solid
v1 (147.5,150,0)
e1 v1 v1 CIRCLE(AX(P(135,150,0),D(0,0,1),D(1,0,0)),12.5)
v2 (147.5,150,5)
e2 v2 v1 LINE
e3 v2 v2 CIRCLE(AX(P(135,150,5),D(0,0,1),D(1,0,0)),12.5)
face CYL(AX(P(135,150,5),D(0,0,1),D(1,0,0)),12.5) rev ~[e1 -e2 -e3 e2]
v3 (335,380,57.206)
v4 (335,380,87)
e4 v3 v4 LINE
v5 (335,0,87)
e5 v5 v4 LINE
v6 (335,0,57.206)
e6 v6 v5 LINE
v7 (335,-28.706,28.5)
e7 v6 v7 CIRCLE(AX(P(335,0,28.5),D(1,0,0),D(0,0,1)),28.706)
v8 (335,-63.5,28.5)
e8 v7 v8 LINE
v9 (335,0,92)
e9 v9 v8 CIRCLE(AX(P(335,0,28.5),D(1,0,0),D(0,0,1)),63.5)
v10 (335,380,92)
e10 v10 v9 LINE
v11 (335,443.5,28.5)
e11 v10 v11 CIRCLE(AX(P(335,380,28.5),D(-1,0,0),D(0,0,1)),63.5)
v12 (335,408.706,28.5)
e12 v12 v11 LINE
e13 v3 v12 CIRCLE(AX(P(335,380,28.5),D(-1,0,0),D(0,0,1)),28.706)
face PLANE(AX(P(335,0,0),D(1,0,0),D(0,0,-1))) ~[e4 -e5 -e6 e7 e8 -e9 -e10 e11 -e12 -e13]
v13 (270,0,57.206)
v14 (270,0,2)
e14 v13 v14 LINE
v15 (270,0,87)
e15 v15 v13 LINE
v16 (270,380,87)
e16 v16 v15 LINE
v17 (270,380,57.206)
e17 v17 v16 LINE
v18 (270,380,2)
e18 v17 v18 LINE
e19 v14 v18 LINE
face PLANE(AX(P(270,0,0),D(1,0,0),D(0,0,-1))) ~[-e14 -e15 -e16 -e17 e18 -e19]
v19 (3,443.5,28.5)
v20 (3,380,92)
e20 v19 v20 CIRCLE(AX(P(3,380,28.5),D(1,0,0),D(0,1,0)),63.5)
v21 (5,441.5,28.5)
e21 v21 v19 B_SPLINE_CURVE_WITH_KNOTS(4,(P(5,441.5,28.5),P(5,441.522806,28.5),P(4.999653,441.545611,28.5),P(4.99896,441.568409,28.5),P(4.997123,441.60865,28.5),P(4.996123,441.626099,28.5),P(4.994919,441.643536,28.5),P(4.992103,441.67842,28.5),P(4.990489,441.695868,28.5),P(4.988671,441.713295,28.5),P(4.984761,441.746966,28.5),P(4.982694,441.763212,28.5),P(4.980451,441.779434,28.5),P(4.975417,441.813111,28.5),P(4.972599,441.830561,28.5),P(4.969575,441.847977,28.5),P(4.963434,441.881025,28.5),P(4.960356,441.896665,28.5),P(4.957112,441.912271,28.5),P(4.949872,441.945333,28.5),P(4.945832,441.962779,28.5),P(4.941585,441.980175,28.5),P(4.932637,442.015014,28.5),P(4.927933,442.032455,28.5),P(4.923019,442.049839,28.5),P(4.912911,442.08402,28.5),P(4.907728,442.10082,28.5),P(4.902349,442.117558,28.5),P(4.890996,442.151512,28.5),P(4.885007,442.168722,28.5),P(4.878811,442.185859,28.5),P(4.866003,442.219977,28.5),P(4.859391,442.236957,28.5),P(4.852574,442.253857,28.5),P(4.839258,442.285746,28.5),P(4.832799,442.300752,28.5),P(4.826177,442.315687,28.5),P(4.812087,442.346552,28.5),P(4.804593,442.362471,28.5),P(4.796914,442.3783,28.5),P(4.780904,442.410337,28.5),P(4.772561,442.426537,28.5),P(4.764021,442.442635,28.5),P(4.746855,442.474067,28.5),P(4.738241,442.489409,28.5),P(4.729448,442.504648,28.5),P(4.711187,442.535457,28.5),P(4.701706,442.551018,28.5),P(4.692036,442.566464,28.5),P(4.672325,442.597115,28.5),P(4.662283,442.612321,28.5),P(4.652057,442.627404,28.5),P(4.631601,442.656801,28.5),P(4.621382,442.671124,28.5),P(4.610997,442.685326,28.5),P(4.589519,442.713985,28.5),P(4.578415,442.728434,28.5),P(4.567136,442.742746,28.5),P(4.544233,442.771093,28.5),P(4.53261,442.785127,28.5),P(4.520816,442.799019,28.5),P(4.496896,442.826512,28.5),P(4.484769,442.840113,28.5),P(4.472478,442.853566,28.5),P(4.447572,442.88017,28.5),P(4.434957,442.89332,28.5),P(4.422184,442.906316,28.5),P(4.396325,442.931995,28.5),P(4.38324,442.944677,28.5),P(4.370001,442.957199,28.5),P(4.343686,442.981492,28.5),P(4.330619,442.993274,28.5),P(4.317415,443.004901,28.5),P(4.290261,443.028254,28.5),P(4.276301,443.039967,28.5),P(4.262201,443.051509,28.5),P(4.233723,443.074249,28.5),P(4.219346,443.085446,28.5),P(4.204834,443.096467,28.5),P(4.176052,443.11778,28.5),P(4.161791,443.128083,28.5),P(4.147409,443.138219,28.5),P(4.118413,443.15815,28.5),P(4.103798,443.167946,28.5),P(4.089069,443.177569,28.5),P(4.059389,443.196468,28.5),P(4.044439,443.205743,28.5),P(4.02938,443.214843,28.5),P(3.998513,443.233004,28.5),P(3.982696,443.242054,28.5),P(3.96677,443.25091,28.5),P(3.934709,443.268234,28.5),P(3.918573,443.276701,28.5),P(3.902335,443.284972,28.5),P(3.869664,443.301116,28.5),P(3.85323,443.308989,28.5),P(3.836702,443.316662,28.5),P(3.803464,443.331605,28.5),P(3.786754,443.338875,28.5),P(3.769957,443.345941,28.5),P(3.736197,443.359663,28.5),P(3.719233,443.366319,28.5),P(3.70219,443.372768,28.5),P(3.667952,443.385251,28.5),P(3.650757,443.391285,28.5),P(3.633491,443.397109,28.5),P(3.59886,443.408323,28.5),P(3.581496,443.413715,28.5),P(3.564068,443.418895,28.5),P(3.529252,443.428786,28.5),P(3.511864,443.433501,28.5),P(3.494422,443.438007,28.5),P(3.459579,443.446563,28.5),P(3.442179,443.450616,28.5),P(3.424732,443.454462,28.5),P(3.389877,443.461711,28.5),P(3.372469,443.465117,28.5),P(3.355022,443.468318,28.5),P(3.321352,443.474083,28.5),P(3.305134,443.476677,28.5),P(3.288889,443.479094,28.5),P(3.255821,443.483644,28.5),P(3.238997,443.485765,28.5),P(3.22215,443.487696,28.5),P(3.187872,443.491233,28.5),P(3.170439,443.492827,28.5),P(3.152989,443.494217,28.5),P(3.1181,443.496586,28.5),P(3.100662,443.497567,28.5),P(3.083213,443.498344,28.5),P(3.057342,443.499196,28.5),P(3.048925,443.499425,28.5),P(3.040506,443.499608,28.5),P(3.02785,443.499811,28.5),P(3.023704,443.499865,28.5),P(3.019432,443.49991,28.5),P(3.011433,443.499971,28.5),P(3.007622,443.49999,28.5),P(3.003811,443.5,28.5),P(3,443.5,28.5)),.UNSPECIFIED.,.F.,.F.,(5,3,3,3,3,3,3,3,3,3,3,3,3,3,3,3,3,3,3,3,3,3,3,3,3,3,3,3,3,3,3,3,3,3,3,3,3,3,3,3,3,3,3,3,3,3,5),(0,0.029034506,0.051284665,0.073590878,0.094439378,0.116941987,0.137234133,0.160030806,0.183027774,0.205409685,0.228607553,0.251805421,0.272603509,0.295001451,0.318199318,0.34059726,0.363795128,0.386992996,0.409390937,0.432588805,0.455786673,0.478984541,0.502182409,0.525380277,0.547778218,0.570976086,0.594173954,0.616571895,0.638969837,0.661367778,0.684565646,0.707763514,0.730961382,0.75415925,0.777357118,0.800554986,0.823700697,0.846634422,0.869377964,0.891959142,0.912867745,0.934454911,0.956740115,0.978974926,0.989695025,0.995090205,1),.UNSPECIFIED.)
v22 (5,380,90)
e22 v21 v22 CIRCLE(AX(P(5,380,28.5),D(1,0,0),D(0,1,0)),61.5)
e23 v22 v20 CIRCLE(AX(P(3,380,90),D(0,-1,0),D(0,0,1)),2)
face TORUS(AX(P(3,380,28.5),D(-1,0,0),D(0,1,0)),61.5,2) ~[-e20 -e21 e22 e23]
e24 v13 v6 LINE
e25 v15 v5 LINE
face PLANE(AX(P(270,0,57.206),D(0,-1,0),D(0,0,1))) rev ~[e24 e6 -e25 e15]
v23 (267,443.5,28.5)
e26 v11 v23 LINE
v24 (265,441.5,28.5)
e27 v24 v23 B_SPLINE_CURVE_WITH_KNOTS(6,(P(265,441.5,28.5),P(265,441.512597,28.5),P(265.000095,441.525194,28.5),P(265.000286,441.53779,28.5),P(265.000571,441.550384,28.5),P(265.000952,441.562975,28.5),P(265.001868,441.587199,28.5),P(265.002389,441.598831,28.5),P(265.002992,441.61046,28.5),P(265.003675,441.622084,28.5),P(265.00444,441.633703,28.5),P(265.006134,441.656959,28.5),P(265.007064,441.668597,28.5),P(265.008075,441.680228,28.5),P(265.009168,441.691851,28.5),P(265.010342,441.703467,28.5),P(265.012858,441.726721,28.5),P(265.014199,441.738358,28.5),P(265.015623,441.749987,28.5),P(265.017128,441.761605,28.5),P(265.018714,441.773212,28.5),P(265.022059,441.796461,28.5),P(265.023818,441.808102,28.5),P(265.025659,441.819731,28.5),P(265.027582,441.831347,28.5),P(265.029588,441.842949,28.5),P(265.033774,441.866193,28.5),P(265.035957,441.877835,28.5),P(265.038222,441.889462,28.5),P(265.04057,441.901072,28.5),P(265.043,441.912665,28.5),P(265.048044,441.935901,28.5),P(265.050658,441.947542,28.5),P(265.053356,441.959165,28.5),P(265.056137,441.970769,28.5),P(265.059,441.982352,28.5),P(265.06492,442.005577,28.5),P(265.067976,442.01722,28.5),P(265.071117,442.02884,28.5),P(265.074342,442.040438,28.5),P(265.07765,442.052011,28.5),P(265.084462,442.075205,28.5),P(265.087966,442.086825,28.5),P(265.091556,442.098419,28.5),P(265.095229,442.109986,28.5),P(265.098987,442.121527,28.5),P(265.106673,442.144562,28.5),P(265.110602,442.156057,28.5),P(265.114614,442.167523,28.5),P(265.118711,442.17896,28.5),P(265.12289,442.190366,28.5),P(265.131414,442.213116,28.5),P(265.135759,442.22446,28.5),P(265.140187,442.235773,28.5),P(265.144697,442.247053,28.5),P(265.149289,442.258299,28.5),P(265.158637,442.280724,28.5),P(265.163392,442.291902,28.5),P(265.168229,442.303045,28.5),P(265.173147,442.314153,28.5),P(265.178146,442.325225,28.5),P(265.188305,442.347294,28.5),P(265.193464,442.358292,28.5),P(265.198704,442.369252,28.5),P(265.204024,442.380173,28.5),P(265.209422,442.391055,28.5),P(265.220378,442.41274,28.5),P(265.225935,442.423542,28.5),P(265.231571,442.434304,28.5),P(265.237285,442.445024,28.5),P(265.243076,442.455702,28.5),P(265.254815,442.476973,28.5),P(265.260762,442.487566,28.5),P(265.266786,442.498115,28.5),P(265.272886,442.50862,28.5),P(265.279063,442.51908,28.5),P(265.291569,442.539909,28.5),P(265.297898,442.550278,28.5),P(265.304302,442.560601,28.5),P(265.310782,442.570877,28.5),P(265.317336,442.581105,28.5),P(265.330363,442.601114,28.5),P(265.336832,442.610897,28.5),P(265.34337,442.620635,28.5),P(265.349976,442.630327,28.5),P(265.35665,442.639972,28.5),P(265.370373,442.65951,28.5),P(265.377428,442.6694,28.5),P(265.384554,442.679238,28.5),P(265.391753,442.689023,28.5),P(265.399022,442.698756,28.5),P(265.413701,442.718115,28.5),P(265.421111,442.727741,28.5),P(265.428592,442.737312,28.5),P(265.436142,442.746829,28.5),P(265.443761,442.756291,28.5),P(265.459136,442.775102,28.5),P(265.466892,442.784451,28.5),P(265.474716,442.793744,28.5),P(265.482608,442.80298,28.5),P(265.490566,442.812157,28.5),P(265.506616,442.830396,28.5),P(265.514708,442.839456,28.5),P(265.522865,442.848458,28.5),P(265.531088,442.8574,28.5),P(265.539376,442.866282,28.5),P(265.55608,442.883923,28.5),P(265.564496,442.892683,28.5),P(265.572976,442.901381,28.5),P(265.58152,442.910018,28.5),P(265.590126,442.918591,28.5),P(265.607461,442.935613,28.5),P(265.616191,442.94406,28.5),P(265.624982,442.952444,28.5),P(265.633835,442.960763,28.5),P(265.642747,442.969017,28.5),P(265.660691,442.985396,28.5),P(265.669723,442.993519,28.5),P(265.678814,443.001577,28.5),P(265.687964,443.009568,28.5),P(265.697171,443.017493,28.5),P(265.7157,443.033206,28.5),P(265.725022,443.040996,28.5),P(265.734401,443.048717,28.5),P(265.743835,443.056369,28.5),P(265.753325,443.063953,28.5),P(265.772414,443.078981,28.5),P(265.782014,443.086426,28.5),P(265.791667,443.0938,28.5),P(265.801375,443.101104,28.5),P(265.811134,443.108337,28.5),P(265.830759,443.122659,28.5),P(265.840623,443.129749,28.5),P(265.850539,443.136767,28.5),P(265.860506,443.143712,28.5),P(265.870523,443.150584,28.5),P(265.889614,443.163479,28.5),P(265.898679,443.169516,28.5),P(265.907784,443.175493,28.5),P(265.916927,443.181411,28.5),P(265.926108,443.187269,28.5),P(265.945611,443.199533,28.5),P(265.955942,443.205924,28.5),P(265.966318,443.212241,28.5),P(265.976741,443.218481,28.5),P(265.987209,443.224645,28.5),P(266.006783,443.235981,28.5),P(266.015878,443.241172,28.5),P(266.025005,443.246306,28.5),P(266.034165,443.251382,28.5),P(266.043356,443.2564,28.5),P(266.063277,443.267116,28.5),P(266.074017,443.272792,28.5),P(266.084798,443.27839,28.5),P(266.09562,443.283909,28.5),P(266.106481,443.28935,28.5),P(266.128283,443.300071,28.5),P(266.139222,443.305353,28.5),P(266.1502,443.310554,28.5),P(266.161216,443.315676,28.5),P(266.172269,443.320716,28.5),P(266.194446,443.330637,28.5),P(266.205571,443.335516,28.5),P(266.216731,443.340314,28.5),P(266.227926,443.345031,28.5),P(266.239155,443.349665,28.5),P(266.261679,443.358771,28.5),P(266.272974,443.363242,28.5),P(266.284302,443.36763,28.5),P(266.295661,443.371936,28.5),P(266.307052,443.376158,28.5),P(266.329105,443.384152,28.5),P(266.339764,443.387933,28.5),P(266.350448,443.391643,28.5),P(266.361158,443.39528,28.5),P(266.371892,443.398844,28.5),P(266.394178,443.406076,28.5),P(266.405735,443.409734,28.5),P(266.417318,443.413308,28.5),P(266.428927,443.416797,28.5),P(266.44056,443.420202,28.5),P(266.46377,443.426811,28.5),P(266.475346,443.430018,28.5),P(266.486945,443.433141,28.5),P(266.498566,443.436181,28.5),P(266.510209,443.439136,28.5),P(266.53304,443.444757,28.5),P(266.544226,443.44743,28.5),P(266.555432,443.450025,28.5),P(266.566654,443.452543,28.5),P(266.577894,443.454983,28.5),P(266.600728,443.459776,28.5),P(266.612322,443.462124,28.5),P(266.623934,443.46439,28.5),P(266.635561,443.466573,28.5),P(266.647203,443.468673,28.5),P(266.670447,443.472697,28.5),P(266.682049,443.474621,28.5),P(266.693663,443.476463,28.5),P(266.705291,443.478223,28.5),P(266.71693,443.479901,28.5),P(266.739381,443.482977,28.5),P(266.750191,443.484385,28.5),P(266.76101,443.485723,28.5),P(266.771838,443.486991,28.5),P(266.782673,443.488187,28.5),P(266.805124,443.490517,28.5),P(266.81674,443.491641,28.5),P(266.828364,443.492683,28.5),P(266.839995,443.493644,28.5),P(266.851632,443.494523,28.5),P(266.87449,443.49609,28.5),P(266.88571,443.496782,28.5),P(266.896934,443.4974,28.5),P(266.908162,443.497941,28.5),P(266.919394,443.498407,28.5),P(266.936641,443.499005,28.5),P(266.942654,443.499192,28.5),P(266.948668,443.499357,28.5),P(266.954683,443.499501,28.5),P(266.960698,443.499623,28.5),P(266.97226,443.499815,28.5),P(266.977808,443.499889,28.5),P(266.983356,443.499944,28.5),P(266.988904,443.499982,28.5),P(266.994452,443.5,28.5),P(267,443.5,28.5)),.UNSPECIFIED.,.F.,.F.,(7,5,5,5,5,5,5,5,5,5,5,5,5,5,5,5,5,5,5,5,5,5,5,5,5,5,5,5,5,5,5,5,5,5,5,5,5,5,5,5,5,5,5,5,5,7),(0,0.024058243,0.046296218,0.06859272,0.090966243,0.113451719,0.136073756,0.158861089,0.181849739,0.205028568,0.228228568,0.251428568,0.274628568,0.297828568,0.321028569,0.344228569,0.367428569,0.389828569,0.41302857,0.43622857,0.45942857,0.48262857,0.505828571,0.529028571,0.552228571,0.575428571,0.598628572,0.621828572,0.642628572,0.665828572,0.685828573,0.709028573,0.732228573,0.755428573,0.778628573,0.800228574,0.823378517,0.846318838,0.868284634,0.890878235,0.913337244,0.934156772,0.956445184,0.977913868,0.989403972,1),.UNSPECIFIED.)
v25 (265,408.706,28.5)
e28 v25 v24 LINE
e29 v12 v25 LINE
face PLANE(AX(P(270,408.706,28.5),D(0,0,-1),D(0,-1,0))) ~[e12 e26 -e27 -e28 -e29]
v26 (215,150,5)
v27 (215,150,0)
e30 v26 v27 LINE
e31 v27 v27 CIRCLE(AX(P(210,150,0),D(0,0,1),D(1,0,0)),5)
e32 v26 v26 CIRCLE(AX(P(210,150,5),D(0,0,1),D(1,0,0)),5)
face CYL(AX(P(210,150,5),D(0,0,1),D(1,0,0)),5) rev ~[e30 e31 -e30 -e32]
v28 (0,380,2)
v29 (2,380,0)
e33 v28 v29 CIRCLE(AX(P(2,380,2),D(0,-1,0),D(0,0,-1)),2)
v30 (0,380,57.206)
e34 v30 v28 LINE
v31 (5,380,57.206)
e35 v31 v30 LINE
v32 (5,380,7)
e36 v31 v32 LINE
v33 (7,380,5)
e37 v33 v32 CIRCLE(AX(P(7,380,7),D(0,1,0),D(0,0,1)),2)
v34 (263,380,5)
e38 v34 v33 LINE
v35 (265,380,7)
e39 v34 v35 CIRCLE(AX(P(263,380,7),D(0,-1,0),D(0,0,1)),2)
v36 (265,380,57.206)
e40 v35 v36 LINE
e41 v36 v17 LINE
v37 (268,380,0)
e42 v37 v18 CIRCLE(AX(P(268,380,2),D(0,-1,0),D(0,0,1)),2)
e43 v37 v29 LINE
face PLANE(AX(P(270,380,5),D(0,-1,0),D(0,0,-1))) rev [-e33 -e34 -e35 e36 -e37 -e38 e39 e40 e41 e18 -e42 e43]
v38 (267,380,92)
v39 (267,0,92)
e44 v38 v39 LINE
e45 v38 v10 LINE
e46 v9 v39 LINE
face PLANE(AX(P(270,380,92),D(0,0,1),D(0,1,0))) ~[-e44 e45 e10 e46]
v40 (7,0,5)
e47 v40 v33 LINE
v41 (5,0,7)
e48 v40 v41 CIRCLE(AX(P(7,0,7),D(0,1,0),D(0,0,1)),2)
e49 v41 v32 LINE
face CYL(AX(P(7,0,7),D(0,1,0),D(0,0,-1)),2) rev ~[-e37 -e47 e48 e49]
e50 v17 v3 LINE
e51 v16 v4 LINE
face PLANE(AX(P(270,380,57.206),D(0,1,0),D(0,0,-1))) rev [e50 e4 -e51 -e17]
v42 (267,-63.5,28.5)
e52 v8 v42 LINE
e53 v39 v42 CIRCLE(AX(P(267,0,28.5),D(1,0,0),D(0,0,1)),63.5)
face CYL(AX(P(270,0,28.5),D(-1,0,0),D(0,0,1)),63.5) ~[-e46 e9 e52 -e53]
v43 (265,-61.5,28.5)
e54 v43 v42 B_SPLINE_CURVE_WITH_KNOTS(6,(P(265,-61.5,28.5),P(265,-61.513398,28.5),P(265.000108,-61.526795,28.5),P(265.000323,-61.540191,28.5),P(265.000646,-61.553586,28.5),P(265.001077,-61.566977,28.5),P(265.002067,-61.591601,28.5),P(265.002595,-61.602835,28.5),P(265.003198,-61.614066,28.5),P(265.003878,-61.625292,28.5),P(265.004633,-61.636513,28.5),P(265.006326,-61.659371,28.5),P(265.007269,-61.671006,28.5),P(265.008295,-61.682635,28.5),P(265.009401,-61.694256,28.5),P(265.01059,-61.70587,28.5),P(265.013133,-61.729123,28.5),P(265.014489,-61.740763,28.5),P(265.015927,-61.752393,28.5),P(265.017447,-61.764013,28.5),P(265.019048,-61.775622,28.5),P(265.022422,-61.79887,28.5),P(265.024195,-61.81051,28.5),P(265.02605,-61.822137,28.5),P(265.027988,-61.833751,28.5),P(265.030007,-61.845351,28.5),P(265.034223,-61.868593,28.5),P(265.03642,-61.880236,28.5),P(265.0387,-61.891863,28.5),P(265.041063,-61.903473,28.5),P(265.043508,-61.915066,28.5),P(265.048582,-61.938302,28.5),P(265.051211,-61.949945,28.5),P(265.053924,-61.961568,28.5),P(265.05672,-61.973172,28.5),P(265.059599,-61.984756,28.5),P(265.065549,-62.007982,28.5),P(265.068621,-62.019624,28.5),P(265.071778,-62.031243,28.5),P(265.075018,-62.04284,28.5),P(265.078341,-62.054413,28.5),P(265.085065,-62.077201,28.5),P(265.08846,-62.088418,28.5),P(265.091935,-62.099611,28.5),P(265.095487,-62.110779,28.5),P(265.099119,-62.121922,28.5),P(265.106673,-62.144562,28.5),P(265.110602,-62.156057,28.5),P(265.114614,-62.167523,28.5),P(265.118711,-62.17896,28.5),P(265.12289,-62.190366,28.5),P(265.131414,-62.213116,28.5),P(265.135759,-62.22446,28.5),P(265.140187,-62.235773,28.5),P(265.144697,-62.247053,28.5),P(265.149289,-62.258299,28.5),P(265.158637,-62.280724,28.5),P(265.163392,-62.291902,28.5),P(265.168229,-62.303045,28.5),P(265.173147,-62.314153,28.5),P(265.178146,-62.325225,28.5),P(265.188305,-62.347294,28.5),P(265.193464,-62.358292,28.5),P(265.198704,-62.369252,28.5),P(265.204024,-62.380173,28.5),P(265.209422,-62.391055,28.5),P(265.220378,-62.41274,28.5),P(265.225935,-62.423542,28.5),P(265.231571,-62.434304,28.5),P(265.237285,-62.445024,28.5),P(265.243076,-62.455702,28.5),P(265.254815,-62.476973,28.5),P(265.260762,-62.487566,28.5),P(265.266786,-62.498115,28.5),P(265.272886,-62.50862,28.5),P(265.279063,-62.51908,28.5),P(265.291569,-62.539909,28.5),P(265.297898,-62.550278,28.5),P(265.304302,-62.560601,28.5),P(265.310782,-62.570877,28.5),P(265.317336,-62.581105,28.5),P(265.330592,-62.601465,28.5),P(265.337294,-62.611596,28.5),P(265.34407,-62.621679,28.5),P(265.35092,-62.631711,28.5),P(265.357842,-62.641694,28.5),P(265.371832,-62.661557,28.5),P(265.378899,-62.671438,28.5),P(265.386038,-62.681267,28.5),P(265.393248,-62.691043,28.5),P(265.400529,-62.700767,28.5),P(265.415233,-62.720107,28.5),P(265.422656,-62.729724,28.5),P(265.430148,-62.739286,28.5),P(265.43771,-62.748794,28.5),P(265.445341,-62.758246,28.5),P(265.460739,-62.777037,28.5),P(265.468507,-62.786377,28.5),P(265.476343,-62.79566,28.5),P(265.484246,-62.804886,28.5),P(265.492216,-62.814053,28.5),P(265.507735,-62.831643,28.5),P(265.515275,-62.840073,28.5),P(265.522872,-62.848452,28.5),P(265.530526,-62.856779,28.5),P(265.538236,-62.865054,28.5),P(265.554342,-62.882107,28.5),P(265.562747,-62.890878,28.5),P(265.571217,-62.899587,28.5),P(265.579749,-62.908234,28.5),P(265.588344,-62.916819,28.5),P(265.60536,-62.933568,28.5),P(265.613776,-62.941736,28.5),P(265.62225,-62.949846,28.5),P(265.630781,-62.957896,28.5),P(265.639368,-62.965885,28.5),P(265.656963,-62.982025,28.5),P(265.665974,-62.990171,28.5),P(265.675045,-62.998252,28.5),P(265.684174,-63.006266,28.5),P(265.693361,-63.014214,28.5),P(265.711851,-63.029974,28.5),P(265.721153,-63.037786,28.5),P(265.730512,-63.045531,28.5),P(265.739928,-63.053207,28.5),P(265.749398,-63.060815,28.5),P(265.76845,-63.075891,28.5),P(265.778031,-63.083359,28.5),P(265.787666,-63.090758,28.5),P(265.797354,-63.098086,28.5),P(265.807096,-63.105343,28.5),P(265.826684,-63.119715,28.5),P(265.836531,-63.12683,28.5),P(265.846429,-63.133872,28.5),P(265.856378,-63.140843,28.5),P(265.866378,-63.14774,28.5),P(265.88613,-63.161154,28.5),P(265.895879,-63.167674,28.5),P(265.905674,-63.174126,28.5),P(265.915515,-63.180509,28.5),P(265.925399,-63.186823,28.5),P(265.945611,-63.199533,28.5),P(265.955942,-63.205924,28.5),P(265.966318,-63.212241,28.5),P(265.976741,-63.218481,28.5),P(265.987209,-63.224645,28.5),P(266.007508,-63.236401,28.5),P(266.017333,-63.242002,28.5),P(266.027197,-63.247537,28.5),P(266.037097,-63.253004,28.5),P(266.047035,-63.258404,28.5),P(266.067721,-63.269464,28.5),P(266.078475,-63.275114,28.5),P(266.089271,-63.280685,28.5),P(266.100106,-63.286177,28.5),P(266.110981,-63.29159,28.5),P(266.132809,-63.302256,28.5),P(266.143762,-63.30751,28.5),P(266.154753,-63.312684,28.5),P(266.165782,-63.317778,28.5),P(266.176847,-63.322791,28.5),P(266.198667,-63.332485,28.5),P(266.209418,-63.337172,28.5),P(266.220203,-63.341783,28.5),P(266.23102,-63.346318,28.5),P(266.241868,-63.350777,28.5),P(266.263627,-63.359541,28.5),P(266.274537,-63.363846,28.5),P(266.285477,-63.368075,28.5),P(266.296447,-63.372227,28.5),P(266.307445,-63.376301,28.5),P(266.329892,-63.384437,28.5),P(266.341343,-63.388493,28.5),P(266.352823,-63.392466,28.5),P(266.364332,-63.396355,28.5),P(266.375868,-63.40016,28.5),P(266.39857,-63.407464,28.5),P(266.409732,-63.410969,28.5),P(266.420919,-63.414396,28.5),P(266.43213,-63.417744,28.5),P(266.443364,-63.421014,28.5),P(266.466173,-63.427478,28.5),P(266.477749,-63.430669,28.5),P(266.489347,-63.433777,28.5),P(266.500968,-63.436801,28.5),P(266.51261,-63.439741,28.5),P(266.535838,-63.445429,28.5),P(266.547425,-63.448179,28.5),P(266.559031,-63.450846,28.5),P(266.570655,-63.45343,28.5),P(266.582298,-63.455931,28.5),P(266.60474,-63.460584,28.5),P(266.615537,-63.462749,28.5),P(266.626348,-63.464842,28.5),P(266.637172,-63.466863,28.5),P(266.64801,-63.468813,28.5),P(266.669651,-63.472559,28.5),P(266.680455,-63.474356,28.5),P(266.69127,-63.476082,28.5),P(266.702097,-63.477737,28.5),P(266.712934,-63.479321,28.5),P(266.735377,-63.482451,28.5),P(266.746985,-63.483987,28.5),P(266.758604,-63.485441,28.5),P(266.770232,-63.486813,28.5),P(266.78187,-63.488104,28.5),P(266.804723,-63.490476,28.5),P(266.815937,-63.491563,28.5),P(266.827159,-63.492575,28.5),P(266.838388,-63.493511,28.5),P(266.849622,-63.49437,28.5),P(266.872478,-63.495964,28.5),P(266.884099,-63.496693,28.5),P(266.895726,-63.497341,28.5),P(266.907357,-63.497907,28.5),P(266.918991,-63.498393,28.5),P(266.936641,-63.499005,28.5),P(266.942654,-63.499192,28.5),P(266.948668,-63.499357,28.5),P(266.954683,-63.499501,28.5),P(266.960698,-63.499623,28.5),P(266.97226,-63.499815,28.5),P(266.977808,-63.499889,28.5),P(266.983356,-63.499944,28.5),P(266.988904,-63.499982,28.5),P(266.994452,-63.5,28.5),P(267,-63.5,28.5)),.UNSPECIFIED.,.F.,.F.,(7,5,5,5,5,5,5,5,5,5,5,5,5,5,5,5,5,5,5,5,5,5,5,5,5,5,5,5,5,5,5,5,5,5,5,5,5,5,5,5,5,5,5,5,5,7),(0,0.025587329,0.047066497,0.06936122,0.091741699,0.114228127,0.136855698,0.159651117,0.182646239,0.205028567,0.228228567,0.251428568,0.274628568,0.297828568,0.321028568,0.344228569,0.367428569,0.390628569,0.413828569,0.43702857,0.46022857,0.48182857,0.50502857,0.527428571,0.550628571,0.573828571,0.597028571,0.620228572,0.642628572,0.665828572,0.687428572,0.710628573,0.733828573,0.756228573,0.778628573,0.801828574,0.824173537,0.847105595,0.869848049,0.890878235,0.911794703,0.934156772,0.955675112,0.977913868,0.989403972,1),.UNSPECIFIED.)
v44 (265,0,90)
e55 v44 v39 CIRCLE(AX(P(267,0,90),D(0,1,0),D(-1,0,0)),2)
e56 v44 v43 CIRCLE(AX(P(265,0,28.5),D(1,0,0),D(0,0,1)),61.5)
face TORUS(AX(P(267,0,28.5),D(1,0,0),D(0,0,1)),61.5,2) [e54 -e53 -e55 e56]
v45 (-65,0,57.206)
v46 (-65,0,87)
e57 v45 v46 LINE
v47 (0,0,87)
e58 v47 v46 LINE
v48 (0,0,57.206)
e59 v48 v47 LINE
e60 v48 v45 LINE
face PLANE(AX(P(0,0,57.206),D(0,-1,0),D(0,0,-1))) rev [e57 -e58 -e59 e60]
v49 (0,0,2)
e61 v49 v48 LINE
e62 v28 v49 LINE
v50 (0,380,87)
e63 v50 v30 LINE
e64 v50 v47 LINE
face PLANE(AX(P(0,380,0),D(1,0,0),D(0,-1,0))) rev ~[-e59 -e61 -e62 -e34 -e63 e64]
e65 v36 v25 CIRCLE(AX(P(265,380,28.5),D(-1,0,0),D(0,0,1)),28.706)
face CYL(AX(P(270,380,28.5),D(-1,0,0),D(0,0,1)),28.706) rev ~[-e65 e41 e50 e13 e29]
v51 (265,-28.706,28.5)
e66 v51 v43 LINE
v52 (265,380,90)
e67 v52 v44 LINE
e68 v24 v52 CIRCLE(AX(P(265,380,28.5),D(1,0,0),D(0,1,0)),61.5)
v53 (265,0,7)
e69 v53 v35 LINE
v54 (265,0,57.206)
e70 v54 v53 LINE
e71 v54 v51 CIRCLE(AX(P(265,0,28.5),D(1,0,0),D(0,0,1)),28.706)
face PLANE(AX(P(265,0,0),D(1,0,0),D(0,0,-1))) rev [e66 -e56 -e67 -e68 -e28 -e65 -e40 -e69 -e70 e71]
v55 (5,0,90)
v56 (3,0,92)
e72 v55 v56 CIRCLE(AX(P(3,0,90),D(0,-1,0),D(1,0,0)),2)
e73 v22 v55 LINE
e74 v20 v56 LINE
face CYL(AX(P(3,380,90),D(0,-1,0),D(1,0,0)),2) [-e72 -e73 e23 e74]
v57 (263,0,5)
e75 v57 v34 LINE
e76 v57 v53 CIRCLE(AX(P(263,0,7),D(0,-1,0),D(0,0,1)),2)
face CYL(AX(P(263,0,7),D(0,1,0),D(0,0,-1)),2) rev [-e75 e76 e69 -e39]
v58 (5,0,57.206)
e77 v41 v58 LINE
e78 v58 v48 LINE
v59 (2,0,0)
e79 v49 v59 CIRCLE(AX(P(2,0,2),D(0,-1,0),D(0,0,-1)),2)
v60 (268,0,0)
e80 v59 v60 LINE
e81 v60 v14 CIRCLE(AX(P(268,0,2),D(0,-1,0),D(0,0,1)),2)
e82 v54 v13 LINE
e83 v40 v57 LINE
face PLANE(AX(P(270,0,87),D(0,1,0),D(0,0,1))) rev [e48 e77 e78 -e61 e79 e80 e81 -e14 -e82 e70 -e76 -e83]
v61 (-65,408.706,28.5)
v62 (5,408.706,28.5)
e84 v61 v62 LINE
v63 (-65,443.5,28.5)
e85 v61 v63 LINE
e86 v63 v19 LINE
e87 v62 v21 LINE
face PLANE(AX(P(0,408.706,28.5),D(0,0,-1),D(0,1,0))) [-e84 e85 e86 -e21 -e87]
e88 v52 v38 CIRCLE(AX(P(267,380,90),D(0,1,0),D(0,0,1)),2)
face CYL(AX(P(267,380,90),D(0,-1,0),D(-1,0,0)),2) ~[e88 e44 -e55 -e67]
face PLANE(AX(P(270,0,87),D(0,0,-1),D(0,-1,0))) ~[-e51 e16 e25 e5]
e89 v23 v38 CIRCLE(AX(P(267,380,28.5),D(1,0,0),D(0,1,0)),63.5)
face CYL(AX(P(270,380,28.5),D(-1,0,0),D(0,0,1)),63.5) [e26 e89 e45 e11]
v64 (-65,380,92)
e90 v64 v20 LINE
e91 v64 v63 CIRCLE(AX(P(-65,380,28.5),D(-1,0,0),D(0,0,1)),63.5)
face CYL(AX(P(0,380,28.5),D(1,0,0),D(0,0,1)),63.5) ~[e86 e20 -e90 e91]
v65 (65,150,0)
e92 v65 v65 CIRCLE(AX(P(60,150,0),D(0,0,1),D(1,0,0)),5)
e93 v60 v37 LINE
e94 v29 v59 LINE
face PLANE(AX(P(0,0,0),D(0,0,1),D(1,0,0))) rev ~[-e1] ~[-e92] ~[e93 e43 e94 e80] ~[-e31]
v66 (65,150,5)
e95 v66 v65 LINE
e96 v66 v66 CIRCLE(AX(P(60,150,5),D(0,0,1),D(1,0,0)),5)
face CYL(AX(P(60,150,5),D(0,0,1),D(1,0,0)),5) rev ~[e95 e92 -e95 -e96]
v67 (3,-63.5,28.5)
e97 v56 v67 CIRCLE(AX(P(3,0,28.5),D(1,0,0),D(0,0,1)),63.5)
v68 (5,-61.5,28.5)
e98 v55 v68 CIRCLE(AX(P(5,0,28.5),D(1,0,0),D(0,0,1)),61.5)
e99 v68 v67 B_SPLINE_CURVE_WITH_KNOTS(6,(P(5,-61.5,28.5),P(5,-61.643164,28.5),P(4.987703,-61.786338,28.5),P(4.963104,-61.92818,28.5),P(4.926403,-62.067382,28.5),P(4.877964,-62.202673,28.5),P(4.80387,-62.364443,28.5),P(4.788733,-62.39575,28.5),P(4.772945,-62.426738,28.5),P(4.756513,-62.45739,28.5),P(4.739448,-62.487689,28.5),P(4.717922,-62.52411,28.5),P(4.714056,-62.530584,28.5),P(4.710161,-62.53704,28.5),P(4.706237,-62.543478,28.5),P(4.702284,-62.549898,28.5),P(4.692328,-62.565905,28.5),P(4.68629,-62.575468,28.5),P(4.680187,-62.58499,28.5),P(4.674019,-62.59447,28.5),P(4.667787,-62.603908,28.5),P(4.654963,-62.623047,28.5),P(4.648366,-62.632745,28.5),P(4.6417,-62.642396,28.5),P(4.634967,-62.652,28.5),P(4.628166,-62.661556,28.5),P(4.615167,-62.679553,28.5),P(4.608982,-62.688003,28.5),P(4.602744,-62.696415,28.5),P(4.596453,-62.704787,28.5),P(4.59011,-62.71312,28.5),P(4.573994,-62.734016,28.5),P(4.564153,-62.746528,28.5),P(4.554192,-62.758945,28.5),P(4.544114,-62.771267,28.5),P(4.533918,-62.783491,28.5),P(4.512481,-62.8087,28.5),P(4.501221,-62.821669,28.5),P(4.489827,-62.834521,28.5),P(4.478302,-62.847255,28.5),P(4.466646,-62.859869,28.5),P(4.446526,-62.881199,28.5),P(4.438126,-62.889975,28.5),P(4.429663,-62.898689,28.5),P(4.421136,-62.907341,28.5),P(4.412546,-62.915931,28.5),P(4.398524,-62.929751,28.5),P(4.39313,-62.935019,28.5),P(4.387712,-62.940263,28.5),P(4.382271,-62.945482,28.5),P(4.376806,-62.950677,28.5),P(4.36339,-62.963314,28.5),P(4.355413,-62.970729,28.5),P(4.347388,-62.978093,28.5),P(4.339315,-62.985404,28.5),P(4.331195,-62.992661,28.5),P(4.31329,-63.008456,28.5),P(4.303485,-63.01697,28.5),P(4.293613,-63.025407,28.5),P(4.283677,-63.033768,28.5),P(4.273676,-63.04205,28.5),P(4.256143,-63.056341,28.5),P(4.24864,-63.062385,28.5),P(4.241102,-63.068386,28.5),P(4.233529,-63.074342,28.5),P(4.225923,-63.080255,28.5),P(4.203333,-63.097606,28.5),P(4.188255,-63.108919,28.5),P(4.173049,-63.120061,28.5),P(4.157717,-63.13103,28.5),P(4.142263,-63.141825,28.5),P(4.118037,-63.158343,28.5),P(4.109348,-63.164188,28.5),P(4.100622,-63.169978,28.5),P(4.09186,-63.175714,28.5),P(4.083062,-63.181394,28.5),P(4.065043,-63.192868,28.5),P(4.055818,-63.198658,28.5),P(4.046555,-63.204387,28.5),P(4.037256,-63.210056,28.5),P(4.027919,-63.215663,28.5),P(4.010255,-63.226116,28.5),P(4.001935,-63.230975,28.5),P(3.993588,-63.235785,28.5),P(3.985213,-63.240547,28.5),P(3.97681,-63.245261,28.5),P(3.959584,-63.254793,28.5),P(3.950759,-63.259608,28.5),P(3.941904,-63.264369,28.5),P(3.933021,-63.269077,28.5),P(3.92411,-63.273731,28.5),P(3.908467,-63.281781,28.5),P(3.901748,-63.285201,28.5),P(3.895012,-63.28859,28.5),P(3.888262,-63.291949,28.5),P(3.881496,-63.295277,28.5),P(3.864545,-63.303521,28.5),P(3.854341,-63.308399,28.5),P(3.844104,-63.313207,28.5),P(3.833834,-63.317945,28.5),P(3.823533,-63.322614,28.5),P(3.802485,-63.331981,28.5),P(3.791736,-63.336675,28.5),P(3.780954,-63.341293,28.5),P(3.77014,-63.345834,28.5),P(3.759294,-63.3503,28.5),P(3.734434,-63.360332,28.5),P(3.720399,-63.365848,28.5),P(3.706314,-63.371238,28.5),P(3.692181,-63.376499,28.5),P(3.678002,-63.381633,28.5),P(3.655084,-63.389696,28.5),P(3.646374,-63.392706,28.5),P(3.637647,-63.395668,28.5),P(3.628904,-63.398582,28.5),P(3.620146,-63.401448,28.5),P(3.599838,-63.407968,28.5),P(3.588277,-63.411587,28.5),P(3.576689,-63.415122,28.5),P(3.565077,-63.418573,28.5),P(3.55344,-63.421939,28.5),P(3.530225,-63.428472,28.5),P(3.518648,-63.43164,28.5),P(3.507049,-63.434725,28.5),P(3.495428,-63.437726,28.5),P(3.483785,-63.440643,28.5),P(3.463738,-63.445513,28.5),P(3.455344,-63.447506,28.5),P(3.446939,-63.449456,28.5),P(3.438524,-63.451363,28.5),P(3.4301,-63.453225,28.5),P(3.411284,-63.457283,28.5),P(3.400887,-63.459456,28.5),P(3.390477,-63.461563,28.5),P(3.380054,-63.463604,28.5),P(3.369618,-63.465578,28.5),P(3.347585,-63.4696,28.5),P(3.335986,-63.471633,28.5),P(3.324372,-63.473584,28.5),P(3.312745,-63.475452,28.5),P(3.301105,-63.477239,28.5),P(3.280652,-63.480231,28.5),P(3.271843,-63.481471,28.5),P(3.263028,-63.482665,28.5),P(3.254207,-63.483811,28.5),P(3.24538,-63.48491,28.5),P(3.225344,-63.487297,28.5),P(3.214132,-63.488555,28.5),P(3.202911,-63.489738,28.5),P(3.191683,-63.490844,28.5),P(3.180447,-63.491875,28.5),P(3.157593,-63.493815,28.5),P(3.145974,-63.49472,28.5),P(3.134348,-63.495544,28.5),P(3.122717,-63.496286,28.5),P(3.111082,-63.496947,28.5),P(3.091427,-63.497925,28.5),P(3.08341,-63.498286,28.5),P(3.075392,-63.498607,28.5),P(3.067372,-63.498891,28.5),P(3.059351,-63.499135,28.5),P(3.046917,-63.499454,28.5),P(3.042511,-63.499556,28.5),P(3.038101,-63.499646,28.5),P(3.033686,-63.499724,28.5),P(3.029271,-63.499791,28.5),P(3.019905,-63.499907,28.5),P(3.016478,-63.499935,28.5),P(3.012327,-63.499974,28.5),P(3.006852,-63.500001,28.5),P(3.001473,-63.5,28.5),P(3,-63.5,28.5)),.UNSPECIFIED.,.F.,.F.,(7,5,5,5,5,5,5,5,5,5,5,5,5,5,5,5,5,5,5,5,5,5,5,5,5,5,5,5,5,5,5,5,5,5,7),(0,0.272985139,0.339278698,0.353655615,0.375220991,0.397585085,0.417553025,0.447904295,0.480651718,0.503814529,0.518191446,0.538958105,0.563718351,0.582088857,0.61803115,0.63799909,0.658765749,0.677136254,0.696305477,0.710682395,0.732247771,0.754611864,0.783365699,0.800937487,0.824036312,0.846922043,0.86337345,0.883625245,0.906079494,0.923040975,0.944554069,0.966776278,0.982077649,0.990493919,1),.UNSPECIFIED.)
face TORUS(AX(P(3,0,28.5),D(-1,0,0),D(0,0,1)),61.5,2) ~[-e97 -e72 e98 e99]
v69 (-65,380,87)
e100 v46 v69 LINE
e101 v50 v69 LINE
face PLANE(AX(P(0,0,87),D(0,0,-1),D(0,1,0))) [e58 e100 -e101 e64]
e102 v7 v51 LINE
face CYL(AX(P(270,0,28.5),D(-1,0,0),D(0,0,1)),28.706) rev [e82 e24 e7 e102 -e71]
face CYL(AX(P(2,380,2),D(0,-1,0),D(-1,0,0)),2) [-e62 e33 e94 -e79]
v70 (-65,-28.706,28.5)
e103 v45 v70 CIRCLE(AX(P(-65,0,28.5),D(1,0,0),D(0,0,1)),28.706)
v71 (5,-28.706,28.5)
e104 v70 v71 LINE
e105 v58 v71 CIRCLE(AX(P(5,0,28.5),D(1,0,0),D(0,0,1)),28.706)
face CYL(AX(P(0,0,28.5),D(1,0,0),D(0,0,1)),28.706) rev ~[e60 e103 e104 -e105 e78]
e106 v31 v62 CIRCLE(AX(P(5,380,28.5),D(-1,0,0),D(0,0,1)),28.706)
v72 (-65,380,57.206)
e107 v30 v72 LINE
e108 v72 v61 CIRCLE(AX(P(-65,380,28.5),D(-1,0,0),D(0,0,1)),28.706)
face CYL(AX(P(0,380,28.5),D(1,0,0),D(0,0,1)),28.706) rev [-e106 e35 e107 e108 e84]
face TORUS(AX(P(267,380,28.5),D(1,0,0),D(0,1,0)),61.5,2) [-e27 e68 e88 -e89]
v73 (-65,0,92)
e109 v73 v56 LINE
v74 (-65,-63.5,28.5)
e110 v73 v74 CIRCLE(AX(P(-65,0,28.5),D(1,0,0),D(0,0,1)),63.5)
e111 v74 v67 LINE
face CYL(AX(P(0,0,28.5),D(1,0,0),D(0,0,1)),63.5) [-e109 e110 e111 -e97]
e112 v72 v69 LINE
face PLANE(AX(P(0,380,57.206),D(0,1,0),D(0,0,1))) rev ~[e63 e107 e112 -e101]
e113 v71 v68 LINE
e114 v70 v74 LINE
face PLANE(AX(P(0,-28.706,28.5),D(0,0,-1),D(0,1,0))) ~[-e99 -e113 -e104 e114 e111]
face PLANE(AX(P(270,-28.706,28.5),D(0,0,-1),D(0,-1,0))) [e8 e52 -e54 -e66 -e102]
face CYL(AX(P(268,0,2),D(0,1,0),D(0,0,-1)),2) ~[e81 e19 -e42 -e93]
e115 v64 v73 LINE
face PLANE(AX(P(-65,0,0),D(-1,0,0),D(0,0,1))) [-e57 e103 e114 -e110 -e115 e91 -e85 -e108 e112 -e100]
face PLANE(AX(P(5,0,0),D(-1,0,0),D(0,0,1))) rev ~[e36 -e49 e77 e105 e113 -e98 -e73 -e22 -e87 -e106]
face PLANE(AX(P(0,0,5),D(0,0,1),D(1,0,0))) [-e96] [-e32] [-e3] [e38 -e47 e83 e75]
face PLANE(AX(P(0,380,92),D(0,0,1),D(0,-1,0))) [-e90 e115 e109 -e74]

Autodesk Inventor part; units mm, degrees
ref_plane "XY Plane" through (0, 0, 0) normal (0, 0, 1) x (1, 0, 0)
sketch "Sketch1" plane through (0, 0, 0) normal (0, 0, 1) x (1, 0, 0)
  line L0 (0, 0) -> (270, 0)
  line L1 (270, 0) -> (270, 380)
  line L2 (270, 380) -> (0, 380)
  line L3 (0, 380) -> (0, 0)
  dimension "d0" = 270
  dimension "d1" = 380
extrude "Extrusion1" add sketch "Sketch1" along normal blind 5
sketch "Sketch4" plane through (0, 0, 0) normal (-1, 0, 0) x (0, 0, 1)
  line L0 (0, 0) -> (0, 380) projected
  line L1 (-3.8919, 9.8795) -> (0, 9.8795)
  line L2 (0, 9.8795) -> (0, 5.6882)
  line L3 (0, 5.6882) -> (-3.8919, 5.6882)
  line L4 (-3.8919, 5.6882) -> (-3.8919, 9.8795)
  line L5 (5, 0) -> (5, 380) projected
  line L6 (5, 380) -> (87, 380)
  line L7 (87, 380) -> (87, 0)
  line L8 (87, 0) -> (5, 0)
  line L9 (5, 0) -> (5, 380)
  dimension "d4" = 82
  dimension "d5" = 380
extrude "Extrusion2" add sketch "Sketch4" against normal blind 5 contours L5 L6 L7 L8
sketch "Sketch7" plane through (0, 0, 0) normal (-1, 0, 0) x (0, 0, 1)
  line L0 (0, 380) -> (87, 380) projected
  line L1 (87, 380) -> (92, 380)
  line L2 (92, 380) -> (92, 0)
  line L3 (92, 0) -> (87, 0)
  line L4 (87, 0) -> (87, 380)
  point P0 (0, 0)
  dimension "d8" = 5
  dimension "d9" = 380
extrude "Extrusion3" add sketch "Sketch7" along normal blind 65 and the other way blind 5
sketch "Sketch8" plane through (0, 0, 0) normal (-1, 0, 0) x (0, 0, 1)
  line L0 (0, 380) -> (5, 380) projected
  line L1 (0, 380) -> (0, 390)
  line L2 (0, 390) -> (1.5922, 390)
  line L3 (5, 380) -> (92, 380) projected
  arc A0 (92, 380) -> (28.5, 443.5) centre (28.5, 380) ccw
  line L4 (28.5, 408.706) -> (28.5, 443.5)
  line L5 (57.206, 380) -> (92, 380)
  arc A1 (57.206, 380) -> (28.5, 408.706) centre (28.5, 380) ccw
  arc A2 (1.5922, 390) -> (0, 383.4325) centre (28.5, 380) ccw
  point P0 (0, 0)
  dimension "d14" = 10
extrude "Extrusion4" add sketch "Sketch8" along normal blind 65 and the other way blind 5 contours A1 L4 A0 L3
ref_plane "Work Plane1" through (0, 190, 0) normal (0, 1, 0) x (-1, 0, 0)
mirror "Mirror1" about plane through (0, 190, 0) normal (0, 1, 0) of "Extrusion4"
ref_plane "Work Plane3" through (135, 0, 0) normal (1, 0, 0) x (0, 1, 0)
mirror "Mirror2" about plane through (135, 0, 0) normal (1, 0, 0) of "Extrusion4", "Extrusion3", "Mirror1", "Extrusion2"
fillet "Fillet1" radius 2 3 edges at (5, -44.9013, 73.4013) (5, 424.9013, 73.4013) (5, 190, 92)
fillet "Fillet2" radius 2 3 edges at (265, 190, 92) (265, -44.9013, 73.4013) (265, 424.9013, 73.4013)
fillet "Fillet3" radius 2 1 edges at (5, 190, 5)
fillet "Fillet4" radius 2 1 edges at (265, 190, 5)
fillet "Fillet5" radius 2 1 edges at (0, 190, 0)
fillet "Fillet6" radius 2 1 edges at (270, 190, 0)
sketch "Sketch9" plane through (0, 0, 5) normal (0, 0, 1) x (1, 0, 0)
  line L0 (7, 0) -> (263, 0) construction
  line L1 (135, 0) -> (135, 150) construction
  circle A0 centre (135, 150) radius 12.5
  line L2 (135, 150) -> (258, 150) construction
  line L3 (135, 150) -> (12, 150) construction
  circle A1 centre (210, 150) radius 5
  circle A2 centre (60, 150) radius 5
  line L4 (5, 0) -> (5, 380) projected
  line L5 (265, 380) -> (265, 0) projected
  point P0 (0, 0)
  dimension "d27" = 150
  dimension "d28" = 25
  dimension "d31" = 10
  dimension "d32" = 10
  dimension "d33" = 55
  dimension "d34" = 55
extrude "Extrusion5" cut sketch "Sketch9" against normal through all
properties part number "body base" material "Steel, Alloy"
